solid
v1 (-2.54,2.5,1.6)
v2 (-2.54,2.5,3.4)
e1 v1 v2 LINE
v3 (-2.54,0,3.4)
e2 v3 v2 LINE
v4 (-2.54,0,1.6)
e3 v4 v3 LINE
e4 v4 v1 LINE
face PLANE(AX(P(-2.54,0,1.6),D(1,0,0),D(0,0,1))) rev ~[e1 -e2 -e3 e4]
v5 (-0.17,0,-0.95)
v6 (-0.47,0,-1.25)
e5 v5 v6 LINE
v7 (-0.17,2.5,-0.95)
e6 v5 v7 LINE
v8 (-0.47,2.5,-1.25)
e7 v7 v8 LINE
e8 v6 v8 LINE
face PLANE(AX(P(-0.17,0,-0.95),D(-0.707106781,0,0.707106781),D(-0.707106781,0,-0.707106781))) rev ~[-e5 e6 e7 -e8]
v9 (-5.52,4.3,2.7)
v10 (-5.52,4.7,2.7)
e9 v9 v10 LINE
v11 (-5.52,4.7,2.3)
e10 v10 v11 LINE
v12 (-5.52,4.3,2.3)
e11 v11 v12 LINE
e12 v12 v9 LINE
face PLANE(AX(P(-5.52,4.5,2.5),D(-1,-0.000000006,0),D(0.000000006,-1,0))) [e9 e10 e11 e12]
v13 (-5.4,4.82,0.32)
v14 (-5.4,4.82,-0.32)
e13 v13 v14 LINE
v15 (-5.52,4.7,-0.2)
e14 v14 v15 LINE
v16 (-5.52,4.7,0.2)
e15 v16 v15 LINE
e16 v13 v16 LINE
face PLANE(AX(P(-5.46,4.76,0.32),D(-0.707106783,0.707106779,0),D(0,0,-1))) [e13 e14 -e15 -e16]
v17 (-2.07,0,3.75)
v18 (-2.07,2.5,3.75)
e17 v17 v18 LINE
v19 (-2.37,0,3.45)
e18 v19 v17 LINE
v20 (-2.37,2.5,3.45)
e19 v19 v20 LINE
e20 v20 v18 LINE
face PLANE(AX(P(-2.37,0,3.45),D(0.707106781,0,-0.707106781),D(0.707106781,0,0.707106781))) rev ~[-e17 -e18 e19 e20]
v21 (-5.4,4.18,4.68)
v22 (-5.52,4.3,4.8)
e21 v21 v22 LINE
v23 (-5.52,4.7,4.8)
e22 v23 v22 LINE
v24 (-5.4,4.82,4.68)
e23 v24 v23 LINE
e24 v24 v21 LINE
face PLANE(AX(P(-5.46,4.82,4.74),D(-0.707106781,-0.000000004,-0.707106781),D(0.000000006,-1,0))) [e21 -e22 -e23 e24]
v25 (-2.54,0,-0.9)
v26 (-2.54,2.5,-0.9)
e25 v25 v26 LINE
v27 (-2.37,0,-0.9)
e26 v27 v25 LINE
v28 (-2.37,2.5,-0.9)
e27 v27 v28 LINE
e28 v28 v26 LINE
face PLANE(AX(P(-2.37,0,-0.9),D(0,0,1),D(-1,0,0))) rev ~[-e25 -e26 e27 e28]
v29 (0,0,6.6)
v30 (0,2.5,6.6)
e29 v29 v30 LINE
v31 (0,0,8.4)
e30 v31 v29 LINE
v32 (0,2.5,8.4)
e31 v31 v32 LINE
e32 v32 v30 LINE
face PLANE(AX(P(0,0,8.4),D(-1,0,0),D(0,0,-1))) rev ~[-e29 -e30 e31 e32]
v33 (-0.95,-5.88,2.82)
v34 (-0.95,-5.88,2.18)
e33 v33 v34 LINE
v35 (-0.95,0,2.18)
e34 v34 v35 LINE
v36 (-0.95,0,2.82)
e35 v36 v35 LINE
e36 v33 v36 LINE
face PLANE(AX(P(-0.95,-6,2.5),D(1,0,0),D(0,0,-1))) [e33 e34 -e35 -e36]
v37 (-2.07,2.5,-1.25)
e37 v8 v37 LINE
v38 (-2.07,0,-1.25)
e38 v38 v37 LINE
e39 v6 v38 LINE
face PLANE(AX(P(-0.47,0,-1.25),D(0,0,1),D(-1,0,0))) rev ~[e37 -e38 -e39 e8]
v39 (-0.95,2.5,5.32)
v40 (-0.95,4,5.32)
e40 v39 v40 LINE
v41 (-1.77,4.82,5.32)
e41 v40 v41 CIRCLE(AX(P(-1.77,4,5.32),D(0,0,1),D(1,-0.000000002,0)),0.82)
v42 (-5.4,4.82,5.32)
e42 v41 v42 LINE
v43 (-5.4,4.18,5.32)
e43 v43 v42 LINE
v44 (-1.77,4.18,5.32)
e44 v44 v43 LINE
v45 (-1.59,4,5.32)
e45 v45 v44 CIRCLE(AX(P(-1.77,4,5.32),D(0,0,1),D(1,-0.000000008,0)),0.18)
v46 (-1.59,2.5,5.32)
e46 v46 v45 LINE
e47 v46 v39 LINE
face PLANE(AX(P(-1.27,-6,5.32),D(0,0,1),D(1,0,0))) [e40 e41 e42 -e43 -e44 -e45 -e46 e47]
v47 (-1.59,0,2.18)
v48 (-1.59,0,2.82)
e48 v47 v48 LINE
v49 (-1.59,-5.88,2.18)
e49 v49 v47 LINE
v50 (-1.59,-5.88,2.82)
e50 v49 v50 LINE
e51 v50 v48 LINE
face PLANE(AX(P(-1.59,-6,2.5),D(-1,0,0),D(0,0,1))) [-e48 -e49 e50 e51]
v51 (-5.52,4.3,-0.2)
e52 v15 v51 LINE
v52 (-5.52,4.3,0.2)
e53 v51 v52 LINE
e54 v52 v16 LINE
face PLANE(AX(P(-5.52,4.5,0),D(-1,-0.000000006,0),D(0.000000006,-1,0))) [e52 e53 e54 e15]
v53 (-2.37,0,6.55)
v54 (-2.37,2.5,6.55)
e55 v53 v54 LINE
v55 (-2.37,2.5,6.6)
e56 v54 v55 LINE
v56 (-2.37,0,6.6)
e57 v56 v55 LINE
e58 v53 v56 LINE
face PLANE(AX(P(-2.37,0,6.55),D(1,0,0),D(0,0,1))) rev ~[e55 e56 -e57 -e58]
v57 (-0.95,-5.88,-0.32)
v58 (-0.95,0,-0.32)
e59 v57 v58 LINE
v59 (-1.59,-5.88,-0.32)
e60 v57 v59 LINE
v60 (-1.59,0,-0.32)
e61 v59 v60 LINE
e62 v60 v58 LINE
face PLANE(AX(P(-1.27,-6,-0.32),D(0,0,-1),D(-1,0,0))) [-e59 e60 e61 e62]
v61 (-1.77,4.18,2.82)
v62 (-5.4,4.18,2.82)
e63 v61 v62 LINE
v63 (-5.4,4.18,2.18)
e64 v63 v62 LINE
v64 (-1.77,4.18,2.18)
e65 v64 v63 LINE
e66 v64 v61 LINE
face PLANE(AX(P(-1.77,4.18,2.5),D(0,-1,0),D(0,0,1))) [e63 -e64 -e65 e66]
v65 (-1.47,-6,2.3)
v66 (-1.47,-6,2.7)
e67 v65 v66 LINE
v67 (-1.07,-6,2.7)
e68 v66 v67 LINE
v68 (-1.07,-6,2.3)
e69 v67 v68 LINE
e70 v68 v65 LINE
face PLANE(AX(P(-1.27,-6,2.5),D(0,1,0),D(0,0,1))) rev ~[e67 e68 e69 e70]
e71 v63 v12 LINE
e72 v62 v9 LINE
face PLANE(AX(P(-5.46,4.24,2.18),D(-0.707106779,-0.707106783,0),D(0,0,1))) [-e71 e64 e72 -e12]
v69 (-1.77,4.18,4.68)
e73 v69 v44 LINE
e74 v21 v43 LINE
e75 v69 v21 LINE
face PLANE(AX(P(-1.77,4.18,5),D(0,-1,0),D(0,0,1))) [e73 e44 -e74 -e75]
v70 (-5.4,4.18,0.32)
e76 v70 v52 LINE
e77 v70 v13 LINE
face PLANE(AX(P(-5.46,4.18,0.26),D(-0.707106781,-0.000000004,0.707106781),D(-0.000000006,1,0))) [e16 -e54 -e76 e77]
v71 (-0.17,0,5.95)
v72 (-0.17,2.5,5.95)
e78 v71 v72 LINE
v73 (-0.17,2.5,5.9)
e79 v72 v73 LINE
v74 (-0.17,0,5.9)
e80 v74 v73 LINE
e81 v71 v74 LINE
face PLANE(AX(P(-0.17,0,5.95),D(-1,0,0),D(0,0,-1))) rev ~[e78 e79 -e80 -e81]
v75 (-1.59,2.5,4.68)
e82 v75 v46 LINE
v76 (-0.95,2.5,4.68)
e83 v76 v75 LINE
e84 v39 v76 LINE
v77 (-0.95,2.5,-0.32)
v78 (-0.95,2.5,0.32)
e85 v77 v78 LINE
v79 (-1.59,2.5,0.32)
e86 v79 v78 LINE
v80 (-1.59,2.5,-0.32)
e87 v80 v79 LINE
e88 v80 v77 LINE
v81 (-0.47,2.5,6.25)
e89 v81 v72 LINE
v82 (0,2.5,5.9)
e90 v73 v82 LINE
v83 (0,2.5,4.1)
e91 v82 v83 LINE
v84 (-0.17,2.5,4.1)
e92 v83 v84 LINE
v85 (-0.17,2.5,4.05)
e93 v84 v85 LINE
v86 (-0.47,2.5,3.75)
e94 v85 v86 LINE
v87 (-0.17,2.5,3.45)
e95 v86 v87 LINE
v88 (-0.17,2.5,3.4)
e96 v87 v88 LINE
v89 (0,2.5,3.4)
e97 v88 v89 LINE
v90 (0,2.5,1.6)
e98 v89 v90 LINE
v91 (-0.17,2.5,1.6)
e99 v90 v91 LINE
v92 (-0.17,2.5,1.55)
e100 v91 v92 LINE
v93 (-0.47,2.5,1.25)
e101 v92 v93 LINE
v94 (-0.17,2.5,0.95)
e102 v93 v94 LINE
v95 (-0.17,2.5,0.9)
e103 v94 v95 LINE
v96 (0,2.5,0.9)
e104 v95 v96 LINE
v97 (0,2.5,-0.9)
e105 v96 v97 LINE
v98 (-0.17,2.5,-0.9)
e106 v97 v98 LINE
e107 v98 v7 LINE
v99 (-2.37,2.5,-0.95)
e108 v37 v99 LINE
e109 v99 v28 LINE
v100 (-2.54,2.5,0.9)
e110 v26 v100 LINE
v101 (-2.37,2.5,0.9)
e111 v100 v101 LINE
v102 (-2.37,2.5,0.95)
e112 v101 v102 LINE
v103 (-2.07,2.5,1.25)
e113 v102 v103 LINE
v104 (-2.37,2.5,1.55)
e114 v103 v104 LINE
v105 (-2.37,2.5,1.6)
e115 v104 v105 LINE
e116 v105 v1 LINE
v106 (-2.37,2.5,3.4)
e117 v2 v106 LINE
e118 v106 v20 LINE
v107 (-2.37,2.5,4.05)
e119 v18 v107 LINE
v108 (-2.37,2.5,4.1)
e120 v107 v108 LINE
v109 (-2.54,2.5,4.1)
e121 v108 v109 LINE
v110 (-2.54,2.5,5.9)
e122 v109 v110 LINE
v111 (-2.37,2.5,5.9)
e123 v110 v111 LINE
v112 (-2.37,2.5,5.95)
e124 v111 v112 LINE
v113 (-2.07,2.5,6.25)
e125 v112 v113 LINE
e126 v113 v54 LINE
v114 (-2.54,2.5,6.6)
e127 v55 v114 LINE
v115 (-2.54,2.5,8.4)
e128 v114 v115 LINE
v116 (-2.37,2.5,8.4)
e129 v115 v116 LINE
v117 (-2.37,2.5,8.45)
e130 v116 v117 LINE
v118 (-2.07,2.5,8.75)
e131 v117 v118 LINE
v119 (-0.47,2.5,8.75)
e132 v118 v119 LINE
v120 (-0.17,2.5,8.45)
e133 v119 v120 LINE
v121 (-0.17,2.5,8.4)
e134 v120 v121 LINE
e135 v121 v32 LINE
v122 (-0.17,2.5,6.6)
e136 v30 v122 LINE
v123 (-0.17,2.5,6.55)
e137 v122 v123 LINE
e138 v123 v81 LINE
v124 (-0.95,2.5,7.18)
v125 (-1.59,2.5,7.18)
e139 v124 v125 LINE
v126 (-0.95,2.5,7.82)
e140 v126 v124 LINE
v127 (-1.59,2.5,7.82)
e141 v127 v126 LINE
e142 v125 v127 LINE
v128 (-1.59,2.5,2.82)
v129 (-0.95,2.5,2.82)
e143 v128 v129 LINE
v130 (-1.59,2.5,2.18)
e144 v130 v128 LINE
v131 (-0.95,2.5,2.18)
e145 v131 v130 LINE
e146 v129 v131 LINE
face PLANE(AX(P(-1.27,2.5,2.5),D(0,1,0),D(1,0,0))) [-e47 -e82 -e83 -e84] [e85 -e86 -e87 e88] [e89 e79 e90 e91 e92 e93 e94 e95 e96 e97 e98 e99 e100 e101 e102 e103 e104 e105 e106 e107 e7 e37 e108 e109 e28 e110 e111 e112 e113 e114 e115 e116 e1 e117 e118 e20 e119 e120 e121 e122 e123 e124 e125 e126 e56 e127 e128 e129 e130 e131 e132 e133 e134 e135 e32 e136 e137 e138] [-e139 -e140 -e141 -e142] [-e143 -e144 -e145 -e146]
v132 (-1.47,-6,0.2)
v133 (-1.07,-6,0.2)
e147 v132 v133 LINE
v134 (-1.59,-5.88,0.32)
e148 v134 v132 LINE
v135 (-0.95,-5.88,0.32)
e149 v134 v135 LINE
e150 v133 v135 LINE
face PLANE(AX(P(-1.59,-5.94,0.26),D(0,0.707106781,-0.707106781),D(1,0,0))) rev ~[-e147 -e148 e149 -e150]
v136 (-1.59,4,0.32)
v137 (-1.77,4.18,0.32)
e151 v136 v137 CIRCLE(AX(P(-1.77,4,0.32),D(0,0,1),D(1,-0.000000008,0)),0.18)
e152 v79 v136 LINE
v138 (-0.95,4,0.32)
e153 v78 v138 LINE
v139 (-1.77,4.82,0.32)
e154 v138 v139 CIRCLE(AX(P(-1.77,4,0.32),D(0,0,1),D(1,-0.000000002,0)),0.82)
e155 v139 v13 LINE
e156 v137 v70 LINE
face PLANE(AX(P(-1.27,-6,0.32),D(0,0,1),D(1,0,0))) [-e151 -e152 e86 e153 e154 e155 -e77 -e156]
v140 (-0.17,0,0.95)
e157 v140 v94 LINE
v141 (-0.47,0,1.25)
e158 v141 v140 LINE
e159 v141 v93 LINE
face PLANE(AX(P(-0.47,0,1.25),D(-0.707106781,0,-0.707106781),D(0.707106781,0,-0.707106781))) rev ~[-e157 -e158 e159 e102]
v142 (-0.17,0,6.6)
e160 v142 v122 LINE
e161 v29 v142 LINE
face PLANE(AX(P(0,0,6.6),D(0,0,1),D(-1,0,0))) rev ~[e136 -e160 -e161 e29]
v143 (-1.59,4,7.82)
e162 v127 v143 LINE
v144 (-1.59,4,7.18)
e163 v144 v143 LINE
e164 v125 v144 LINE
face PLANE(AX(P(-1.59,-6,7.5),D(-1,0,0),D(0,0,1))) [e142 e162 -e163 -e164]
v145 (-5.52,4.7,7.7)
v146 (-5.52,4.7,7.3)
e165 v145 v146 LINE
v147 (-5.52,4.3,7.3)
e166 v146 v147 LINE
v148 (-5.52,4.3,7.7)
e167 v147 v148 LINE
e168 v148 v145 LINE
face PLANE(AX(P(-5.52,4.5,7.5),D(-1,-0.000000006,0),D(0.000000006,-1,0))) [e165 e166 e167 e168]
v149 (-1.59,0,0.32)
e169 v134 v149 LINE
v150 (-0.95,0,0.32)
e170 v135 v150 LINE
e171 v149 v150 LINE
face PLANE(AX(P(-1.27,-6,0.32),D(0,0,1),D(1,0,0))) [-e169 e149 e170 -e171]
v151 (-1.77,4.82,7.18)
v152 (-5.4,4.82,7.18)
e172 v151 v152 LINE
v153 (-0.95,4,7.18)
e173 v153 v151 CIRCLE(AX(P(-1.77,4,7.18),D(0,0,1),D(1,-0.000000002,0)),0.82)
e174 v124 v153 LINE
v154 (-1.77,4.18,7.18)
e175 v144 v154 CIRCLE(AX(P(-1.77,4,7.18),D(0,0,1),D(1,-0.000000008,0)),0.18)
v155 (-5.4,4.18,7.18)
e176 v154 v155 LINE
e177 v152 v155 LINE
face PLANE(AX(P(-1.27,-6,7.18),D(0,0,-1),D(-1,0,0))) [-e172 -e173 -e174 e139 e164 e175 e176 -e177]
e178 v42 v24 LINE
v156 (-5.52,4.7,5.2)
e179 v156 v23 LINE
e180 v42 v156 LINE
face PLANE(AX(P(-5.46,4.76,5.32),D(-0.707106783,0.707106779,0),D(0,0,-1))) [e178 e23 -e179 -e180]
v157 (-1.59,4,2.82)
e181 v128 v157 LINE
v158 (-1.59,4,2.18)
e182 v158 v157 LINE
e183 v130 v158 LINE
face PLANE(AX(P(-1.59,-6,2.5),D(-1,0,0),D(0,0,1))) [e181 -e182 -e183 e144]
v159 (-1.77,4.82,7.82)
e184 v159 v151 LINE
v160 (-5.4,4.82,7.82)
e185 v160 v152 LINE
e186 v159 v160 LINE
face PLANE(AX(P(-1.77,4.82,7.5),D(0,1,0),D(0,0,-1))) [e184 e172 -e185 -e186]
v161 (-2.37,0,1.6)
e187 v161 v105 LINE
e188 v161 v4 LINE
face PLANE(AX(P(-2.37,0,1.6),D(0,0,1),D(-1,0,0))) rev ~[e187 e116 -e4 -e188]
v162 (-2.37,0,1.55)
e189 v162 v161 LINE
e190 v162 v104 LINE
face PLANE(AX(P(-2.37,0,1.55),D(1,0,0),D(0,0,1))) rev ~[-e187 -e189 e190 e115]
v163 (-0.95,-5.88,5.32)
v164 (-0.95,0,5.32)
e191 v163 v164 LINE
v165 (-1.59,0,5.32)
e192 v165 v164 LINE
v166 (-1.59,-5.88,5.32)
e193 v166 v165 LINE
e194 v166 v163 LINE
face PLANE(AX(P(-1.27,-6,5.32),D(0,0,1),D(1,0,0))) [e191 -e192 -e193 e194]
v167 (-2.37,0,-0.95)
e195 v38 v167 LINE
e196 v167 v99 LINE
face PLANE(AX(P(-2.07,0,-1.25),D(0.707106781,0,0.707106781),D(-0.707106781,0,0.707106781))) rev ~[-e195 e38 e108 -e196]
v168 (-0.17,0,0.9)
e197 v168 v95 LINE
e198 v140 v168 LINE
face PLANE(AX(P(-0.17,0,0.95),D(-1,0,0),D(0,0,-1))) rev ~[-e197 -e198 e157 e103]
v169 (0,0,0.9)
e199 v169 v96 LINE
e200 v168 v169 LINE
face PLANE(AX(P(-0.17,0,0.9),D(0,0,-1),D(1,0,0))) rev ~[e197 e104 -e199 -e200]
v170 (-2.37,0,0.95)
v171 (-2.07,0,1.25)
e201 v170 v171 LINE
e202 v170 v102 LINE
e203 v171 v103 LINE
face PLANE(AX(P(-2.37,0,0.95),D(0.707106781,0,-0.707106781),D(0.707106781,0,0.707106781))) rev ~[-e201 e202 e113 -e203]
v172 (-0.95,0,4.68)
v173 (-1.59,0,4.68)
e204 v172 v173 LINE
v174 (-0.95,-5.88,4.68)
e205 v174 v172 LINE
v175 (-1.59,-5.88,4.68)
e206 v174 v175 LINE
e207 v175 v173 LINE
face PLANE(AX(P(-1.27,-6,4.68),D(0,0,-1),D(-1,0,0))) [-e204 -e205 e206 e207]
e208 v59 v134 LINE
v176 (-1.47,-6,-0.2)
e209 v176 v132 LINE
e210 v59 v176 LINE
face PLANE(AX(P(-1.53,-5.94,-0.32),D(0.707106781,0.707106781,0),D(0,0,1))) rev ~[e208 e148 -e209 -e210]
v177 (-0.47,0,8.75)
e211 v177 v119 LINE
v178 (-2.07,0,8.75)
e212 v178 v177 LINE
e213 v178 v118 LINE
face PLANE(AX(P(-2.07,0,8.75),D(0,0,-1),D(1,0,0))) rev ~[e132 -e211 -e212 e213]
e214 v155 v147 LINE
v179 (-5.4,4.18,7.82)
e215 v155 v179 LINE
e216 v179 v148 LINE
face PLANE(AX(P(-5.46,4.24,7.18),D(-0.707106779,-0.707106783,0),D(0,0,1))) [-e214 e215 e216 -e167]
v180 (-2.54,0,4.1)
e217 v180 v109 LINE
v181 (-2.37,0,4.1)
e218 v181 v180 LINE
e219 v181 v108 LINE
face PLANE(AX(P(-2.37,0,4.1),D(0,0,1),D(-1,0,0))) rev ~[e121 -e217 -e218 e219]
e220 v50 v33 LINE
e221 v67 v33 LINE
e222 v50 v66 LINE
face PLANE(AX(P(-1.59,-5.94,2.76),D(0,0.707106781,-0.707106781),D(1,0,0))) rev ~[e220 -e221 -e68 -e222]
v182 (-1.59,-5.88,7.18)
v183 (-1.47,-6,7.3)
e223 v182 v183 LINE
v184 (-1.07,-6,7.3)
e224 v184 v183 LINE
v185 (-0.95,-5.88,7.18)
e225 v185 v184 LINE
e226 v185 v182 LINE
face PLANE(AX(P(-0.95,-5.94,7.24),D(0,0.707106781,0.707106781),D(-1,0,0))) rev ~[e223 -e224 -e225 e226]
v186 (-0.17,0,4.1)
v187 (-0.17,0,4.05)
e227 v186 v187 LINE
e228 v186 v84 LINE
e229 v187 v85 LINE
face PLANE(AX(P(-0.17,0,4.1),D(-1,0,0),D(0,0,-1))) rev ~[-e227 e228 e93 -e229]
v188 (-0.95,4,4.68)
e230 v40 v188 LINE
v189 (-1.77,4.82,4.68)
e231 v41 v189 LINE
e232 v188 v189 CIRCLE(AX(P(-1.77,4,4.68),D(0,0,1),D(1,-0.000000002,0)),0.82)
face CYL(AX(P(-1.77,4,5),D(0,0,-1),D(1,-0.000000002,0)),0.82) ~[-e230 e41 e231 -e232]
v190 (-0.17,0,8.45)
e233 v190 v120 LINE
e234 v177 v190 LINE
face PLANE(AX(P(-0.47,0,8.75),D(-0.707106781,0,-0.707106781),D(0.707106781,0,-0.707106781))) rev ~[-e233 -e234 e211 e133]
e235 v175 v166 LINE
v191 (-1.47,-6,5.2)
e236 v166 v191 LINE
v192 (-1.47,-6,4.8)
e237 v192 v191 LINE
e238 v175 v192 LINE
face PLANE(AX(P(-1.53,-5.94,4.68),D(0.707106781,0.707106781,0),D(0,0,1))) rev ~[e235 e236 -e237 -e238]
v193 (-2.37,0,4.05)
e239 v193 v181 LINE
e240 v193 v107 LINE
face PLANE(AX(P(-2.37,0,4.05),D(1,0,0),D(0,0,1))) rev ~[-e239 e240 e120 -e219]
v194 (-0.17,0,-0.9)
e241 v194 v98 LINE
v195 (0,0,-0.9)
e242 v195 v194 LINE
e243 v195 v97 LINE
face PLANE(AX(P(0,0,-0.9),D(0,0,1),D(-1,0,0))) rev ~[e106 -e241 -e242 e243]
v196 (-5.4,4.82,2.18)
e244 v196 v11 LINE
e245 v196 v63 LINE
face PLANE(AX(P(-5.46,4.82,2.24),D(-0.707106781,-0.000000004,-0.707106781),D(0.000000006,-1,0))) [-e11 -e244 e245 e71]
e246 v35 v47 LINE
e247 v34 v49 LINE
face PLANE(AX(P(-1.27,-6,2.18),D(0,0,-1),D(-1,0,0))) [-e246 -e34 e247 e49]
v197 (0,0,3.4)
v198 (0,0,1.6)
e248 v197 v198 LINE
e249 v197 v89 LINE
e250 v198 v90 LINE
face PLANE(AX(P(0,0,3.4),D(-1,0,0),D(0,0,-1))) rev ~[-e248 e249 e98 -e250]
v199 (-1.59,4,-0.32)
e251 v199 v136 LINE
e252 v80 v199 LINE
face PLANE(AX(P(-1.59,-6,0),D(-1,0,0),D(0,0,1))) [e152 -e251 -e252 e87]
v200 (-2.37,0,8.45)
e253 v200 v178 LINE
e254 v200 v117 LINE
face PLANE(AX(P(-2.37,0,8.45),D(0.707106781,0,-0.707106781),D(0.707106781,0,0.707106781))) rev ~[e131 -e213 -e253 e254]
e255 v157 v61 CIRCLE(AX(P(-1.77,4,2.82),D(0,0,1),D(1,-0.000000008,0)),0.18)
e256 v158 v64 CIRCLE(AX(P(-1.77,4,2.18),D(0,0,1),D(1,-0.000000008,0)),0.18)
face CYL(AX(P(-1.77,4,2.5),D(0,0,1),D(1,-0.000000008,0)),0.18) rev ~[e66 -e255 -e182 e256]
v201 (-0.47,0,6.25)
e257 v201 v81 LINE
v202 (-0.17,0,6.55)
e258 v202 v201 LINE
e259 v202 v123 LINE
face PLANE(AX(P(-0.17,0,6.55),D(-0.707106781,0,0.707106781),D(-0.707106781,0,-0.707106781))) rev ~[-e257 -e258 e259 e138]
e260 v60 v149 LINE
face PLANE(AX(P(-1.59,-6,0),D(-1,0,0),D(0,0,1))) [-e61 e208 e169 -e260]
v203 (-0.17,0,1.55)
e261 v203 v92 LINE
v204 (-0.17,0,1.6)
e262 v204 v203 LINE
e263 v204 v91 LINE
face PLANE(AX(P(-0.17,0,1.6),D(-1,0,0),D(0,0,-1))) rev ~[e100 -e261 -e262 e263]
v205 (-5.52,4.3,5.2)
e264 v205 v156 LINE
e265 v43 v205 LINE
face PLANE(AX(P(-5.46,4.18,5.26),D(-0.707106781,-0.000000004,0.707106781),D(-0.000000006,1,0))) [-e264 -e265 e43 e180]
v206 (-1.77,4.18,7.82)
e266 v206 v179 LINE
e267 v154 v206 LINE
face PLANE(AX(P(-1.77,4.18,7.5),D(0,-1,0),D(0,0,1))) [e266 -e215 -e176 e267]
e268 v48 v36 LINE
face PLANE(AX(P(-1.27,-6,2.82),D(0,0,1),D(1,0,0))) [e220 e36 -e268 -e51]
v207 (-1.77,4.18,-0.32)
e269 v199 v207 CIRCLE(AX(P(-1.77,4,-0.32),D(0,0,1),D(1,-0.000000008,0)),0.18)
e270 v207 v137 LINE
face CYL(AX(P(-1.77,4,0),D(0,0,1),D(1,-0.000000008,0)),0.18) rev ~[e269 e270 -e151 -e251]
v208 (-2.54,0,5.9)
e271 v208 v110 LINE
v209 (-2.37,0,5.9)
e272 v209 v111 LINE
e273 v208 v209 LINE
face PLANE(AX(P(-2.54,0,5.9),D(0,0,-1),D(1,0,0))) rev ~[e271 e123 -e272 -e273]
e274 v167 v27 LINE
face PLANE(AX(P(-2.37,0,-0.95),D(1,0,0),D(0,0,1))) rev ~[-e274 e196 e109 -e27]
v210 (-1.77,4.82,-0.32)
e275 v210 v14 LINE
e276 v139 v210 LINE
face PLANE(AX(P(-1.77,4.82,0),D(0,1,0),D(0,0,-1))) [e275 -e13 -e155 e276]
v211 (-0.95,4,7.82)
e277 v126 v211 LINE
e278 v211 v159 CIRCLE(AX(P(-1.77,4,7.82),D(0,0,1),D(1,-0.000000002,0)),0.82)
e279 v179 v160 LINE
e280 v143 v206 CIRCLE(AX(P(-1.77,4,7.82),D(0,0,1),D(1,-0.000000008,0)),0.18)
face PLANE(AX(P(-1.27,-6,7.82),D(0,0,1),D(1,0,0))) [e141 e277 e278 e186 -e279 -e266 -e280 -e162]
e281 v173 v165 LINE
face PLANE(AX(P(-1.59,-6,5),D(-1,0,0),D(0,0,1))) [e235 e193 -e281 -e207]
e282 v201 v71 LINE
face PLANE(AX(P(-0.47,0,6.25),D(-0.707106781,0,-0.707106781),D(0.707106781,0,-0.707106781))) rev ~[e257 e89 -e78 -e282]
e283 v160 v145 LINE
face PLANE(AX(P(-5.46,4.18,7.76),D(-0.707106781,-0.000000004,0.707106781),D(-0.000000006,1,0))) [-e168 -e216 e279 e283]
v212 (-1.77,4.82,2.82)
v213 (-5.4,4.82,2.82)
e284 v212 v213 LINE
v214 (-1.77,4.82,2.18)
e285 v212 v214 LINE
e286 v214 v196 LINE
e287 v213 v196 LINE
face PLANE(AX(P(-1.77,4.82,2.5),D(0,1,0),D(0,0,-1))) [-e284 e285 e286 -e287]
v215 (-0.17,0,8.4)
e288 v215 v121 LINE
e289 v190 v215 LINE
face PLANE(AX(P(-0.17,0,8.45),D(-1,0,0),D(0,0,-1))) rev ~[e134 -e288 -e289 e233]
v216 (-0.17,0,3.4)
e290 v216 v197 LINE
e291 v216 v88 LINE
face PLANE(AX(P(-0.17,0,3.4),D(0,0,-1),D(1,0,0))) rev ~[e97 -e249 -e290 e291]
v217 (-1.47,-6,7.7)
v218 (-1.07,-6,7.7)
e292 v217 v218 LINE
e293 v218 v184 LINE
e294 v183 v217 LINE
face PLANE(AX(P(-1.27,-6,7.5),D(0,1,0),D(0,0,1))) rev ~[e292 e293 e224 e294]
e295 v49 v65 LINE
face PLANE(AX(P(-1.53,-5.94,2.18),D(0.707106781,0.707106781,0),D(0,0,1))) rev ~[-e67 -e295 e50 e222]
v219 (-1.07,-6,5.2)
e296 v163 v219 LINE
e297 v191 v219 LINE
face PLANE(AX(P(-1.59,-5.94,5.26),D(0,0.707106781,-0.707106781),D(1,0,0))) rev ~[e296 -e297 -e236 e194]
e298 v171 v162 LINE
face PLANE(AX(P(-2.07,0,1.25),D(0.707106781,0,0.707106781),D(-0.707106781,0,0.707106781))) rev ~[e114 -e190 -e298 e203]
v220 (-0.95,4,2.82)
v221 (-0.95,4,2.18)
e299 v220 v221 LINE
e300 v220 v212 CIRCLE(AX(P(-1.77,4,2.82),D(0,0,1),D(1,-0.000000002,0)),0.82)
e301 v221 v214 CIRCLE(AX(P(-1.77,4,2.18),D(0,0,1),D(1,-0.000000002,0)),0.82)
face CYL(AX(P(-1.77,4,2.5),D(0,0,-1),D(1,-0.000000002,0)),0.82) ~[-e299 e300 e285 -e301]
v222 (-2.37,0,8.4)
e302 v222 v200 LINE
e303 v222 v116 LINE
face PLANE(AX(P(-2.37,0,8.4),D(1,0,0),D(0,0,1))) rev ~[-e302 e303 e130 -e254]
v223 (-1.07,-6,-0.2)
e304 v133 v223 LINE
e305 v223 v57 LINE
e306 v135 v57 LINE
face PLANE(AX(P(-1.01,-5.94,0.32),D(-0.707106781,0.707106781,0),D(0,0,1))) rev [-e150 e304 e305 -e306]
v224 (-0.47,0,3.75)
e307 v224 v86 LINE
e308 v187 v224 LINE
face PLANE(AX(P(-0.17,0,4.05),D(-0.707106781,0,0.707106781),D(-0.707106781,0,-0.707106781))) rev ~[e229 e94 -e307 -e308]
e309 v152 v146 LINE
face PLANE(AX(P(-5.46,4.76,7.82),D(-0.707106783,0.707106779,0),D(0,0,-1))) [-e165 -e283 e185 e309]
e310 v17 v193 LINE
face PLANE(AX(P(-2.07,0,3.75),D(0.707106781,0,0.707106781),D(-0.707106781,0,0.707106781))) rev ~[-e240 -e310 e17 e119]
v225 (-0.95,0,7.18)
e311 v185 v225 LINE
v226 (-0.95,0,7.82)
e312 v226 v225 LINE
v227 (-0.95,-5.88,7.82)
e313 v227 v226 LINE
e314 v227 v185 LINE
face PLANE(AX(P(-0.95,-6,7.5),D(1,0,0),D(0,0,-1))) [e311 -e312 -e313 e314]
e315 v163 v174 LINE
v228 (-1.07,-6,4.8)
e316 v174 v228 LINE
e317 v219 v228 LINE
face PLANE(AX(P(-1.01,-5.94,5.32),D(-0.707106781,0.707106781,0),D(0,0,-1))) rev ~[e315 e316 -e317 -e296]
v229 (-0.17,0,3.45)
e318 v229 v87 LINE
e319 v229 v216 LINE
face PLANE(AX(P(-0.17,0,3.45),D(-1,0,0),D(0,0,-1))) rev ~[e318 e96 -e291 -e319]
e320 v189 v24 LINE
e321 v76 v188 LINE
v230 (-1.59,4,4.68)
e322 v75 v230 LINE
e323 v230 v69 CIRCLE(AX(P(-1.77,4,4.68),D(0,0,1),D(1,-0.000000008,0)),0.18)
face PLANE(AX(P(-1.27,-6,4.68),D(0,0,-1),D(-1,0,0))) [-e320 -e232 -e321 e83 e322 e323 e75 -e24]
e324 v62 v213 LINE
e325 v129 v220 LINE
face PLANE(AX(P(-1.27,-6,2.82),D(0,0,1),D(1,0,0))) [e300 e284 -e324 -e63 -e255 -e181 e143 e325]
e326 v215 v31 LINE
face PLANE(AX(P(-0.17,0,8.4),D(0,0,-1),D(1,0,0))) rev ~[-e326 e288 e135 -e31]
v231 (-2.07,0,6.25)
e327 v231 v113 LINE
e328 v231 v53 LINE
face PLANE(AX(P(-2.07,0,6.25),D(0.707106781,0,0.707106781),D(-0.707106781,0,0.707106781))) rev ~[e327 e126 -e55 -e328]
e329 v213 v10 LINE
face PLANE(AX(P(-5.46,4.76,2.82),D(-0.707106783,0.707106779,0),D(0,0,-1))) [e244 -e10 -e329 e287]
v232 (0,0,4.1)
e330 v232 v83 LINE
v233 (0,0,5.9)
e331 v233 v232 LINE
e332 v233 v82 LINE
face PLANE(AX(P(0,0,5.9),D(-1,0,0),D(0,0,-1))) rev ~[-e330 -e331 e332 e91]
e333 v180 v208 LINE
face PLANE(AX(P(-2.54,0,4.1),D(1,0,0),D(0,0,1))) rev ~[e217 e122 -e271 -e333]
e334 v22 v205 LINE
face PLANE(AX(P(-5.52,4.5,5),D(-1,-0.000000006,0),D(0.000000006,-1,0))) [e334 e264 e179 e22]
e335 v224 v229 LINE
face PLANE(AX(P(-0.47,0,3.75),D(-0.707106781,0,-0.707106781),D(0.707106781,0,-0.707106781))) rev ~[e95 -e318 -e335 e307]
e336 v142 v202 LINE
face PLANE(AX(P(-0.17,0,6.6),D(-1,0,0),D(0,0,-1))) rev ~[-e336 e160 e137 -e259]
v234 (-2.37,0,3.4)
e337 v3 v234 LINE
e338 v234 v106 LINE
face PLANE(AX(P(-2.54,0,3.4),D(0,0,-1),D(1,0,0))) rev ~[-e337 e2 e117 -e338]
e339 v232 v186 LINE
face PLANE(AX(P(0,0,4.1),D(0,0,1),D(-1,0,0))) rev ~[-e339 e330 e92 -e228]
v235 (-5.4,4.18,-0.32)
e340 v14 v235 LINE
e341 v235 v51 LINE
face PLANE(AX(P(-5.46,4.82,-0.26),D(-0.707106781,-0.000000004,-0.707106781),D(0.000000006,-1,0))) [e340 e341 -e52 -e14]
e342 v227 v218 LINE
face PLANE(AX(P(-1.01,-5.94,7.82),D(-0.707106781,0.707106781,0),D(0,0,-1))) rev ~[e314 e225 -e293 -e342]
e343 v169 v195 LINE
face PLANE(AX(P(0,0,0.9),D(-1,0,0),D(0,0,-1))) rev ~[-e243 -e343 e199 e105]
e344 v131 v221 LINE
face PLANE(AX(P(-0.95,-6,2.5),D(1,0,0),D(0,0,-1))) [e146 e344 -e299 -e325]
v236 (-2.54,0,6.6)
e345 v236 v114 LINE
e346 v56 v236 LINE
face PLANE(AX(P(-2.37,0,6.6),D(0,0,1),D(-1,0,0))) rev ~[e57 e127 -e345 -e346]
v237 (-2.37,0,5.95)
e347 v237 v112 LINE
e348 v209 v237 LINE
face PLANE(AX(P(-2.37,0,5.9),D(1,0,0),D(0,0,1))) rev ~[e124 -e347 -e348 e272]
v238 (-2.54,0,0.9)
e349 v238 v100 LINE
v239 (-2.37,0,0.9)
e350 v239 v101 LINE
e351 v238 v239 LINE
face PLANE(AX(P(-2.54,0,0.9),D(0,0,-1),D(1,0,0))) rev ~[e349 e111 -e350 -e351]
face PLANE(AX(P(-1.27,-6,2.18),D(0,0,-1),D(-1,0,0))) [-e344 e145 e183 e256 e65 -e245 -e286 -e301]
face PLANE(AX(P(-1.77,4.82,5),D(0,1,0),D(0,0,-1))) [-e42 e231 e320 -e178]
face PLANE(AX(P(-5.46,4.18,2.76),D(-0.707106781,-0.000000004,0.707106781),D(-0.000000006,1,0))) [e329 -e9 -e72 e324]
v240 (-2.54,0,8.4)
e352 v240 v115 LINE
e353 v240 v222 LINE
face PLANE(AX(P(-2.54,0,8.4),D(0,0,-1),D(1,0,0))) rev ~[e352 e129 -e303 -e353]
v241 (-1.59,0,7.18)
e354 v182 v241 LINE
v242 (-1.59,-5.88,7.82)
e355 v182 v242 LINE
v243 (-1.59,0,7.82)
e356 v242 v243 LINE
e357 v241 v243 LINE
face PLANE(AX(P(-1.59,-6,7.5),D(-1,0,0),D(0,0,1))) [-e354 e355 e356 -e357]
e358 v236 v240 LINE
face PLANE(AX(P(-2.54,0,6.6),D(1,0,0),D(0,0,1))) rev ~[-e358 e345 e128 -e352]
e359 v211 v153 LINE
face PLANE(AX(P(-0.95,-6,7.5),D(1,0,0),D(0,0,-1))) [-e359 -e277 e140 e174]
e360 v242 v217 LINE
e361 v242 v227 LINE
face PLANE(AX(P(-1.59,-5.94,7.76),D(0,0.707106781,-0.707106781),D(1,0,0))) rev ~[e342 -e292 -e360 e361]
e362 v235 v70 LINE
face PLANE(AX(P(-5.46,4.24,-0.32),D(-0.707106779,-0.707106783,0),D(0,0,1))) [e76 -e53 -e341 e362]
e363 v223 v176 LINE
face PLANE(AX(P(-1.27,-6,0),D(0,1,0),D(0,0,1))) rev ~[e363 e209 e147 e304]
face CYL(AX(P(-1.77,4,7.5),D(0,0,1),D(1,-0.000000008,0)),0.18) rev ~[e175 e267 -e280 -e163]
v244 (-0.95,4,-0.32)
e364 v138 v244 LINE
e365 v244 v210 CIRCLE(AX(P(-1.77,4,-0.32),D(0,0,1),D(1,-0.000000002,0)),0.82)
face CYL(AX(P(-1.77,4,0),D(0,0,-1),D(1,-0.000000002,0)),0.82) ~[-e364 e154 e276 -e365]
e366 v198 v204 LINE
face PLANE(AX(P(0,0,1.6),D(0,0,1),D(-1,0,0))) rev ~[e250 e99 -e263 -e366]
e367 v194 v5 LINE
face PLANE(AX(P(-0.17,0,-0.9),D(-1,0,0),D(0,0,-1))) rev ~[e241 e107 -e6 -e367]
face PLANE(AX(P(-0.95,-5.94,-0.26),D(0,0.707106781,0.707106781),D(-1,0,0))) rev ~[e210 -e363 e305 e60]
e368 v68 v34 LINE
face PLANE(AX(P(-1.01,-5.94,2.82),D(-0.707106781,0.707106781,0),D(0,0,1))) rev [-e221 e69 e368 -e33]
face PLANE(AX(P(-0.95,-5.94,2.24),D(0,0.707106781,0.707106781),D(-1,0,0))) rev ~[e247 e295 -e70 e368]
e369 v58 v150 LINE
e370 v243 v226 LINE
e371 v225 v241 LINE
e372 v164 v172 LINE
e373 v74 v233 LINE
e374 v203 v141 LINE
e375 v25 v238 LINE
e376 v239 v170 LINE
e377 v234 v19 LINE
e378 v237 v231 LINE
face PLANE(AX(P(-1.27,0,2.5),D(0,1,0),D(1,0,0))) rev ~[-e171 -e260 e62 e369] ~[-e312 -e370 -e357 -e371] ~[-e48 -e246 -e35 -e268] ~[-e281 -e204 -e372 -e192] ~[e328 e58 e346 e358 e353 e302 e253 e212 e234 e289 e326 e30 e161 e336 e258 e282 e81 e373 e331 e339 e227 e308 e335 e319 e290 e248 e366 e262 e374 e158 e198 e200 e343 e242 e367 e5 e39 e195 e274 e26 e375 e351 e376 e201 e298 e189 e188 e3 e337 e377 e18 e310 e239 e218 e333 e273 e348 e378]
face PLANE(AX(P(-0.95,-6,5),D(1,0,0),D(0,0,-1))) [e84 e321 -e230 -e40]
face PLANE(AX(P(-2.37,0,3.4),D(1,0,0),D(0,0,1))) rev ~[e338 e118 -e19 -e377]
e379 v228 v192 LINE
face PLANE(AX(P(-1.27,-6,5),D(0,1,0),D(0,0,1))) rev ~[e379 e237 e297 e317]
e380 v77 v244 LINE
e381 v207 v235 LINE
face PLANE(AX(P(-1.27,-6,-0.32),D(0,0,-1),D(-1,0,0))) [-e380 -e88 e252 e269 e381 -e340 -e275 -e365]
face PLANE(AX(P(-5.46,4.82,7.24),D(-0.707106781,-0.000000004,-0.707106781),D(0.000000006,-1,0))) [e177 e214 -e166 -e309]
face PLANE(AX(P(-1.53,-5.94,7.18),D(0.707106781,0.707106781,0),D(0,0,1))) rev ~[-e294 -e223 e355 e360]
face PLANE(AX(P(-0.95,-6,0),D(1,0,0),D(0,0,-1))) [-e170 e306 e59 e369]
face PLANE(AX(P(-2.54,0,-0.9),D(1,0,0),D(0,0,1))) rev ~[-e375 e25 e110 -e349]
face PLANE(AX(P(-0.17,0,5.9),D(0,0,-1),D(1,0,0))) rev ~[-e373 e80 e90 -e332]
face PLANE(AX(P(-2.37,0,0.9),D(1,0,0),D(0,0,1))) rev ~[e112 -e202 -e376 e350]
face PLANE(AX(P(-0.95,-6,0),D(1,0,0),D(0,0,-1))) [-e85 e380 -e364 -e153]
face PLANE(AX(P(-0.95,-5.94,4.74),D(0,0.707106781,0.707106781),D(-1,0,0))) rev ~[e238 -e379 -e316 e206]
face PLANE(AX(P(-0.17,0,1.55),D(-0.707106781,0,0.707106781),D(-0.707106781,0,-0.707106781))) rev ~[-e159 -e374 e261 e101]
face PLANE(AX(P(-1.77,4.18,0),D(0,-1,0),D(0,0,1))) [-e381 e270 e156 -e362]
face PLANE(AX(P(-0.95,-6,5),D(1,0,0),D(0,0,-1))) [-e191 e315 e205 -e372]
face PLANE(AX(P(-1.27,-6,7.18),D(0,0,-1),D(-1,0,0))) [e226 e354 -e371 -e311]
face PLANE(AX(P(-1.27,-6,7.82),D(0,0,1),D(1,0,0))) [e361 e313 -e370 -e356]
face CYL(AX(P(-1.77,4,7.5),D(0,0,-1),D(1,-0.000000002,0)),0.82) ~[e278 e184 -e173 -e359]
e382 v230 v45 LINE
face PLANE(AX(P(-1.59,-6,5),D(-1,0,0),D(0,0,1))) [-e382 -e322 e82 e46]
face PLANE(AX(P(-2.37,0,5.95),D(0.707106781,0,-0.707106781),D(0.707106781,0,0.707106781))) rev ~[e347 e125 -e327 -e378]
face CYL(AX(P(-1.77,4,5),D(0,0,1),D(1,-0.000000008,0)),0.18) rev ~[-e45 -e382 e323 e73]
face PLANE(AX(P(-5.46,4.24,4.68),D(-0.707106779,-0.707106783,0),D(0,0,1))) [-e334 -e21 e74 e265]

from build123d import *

# Parameters (mm, degrees)
BOSS_EXTRUDE1_DEPTH        = 2.5
SKETCH6_W                  = 0.64
SKETCH6_H                  = 0.64
CUT_EXTRUDE1_DEPTH         = 2.5
SKETCH15_W                 = 0.64
SKETCH15_H                 = 0.64
CHAMFER4_SIZE              = 0.12
LPATTERN5_COUNT            = 4
LPATTERN5_PITCH            = 2.5
CHAMFER4_OF_LPATTERN5_SIZE = 0.12


with BuildPart() as part:
    # Sketch4 → Boss-Extrude1 (new body)
    with BuildSketch(Plane(origin=(0, 0, 0), x_dir=(1, 0, 0), z_dir=(0, 1, 0))):
        Polygon((-2.37, -0.9), (-2.37, -0.95), (-2.07, -1.25), (-0.47, -1.25), (-0.17, -0.95), (-0.17, -0.9), (0, -0.9), (0, 0.9), (-0.17, 0.9), (-0.17, 0.95), (-0.47, 1.25), (-2.07, 1.25), (-2.37, 0.95), (-2.37, 0.9), (-2.54, 0.9), (-2.54, -0.9), align=None)
    boss_extrude1 = extrude(amount=BOSS_EXTRUDE1_DEPTH)

    # Sketch6 → Cut-Extrude1 (cut)
    with BuildSketch(Plane.XZ):
        with Locations((-1.27, 0)):
            Rectangle(SKETCH6_W, SKETCH6_H)
        with Locations((1.27, 0)):
            Rectangle(SKETCH6_W, SKETCH6_H)
    extrude(amount=-CUT_EXTRUDE1_DEPTH, mode=Mode.SUBTRACT)

    # Sweep1: sweep along a path in Sketch17
    with BuildLine(Plane(origin=(0, 0, 0), x_dir=(1, 0, 0), z_dir=(0, 0, -1))) as sweep1_path:
        Line((-1.27, 6), (-1.27, -4))
        ThreePointArc((-1.27, -4), (-1.416446609, -4.353553391), (-1.77, -4.5))
        Line((-1.77, -4.5), (-5.52, -4.5))
    # Sketch15 → Sweep1 (sweep)
    with BuildSketch(Plane(origin=(0, -6, 0), x_dir=(1, 0, 0), z_dir=(0, 1, 0))):
        with Locations((-1.27, 0)):
            Rectangle(SKETCH15_W, SKETCH15_H)
    sweep1 = sweep(path=sweep1_path.line)

    # Chamfer4
    chamfer4_edges = [part.edges().sort_by_distance(p)[0] for p in [
        (-0.95, -6, 0),
        (-1.59, -6, 0),
        (-1.27, -6, -0.32),
        (-1.27, -6, 0.32),
        (-5.52, 4.18, 0),
        (-5.52, 4.5, 0.32),
        (-5.52, 4.82, 0),
        (-5.52, 4.5, -0.32),
    ]]
    chamfer(chamfer4_edges, length=CHAMFER4_SIZE)

    # LPattern5: Boss-Extrude1, Sweep1 ×4
    with Locations(*[(0, 0, i * LPATTERN5_PITCH) for i in range(1, LPATTERN5_COUNT)]):
        add(boss_extrude1)
        add(sweep1)

    # Chamfer4 of LPattern5
    chamfer4_of_lpattern5_edges = [part.edges().sort_by_distance(p)[0] for p in [
        (-0.95, -6, 2.5),
        (-1.59, -6, 2.5),
        (-1.27, -6, 2.18),
        (-1.27, -6, 2.82),
        (-5.52, 4.18, 2.5),
        (-5.52, 4.5, 2.82),
        (-5.52, 4.82, 2.5),
        (-5.52, 4.5, 2.18),
        (-0.95, -6, 5),
        (-1.59, -6, 5),
        (-1.27, -6, 4.68),
        (-1.27, -6, 5.32),
        (-5.52, 4.18, 5),
        (-5.52, 4.5, 5.32),
        (-5.52, 4.82, 5),
        (-5.52, 4.5, 4.68),
        (-0.95, -6, 7.5),
        (-1.59, -6, 7.5),
        (-1.27, -6, 7.18),
        (-1.27, -6, 7.82),
        (-5.52, 4.18, 7.5),
        (-5.52, 4.5, 7.82),
        (-5.52, 4.82, 7.5),
        (-5.52, 4.5, 7.18),
    ]]
    chamfer(chamfer4_of_lpattern5_edges, length=CHAMFER4_OF_LPATTERN5_SIZE)


solid = part.part
